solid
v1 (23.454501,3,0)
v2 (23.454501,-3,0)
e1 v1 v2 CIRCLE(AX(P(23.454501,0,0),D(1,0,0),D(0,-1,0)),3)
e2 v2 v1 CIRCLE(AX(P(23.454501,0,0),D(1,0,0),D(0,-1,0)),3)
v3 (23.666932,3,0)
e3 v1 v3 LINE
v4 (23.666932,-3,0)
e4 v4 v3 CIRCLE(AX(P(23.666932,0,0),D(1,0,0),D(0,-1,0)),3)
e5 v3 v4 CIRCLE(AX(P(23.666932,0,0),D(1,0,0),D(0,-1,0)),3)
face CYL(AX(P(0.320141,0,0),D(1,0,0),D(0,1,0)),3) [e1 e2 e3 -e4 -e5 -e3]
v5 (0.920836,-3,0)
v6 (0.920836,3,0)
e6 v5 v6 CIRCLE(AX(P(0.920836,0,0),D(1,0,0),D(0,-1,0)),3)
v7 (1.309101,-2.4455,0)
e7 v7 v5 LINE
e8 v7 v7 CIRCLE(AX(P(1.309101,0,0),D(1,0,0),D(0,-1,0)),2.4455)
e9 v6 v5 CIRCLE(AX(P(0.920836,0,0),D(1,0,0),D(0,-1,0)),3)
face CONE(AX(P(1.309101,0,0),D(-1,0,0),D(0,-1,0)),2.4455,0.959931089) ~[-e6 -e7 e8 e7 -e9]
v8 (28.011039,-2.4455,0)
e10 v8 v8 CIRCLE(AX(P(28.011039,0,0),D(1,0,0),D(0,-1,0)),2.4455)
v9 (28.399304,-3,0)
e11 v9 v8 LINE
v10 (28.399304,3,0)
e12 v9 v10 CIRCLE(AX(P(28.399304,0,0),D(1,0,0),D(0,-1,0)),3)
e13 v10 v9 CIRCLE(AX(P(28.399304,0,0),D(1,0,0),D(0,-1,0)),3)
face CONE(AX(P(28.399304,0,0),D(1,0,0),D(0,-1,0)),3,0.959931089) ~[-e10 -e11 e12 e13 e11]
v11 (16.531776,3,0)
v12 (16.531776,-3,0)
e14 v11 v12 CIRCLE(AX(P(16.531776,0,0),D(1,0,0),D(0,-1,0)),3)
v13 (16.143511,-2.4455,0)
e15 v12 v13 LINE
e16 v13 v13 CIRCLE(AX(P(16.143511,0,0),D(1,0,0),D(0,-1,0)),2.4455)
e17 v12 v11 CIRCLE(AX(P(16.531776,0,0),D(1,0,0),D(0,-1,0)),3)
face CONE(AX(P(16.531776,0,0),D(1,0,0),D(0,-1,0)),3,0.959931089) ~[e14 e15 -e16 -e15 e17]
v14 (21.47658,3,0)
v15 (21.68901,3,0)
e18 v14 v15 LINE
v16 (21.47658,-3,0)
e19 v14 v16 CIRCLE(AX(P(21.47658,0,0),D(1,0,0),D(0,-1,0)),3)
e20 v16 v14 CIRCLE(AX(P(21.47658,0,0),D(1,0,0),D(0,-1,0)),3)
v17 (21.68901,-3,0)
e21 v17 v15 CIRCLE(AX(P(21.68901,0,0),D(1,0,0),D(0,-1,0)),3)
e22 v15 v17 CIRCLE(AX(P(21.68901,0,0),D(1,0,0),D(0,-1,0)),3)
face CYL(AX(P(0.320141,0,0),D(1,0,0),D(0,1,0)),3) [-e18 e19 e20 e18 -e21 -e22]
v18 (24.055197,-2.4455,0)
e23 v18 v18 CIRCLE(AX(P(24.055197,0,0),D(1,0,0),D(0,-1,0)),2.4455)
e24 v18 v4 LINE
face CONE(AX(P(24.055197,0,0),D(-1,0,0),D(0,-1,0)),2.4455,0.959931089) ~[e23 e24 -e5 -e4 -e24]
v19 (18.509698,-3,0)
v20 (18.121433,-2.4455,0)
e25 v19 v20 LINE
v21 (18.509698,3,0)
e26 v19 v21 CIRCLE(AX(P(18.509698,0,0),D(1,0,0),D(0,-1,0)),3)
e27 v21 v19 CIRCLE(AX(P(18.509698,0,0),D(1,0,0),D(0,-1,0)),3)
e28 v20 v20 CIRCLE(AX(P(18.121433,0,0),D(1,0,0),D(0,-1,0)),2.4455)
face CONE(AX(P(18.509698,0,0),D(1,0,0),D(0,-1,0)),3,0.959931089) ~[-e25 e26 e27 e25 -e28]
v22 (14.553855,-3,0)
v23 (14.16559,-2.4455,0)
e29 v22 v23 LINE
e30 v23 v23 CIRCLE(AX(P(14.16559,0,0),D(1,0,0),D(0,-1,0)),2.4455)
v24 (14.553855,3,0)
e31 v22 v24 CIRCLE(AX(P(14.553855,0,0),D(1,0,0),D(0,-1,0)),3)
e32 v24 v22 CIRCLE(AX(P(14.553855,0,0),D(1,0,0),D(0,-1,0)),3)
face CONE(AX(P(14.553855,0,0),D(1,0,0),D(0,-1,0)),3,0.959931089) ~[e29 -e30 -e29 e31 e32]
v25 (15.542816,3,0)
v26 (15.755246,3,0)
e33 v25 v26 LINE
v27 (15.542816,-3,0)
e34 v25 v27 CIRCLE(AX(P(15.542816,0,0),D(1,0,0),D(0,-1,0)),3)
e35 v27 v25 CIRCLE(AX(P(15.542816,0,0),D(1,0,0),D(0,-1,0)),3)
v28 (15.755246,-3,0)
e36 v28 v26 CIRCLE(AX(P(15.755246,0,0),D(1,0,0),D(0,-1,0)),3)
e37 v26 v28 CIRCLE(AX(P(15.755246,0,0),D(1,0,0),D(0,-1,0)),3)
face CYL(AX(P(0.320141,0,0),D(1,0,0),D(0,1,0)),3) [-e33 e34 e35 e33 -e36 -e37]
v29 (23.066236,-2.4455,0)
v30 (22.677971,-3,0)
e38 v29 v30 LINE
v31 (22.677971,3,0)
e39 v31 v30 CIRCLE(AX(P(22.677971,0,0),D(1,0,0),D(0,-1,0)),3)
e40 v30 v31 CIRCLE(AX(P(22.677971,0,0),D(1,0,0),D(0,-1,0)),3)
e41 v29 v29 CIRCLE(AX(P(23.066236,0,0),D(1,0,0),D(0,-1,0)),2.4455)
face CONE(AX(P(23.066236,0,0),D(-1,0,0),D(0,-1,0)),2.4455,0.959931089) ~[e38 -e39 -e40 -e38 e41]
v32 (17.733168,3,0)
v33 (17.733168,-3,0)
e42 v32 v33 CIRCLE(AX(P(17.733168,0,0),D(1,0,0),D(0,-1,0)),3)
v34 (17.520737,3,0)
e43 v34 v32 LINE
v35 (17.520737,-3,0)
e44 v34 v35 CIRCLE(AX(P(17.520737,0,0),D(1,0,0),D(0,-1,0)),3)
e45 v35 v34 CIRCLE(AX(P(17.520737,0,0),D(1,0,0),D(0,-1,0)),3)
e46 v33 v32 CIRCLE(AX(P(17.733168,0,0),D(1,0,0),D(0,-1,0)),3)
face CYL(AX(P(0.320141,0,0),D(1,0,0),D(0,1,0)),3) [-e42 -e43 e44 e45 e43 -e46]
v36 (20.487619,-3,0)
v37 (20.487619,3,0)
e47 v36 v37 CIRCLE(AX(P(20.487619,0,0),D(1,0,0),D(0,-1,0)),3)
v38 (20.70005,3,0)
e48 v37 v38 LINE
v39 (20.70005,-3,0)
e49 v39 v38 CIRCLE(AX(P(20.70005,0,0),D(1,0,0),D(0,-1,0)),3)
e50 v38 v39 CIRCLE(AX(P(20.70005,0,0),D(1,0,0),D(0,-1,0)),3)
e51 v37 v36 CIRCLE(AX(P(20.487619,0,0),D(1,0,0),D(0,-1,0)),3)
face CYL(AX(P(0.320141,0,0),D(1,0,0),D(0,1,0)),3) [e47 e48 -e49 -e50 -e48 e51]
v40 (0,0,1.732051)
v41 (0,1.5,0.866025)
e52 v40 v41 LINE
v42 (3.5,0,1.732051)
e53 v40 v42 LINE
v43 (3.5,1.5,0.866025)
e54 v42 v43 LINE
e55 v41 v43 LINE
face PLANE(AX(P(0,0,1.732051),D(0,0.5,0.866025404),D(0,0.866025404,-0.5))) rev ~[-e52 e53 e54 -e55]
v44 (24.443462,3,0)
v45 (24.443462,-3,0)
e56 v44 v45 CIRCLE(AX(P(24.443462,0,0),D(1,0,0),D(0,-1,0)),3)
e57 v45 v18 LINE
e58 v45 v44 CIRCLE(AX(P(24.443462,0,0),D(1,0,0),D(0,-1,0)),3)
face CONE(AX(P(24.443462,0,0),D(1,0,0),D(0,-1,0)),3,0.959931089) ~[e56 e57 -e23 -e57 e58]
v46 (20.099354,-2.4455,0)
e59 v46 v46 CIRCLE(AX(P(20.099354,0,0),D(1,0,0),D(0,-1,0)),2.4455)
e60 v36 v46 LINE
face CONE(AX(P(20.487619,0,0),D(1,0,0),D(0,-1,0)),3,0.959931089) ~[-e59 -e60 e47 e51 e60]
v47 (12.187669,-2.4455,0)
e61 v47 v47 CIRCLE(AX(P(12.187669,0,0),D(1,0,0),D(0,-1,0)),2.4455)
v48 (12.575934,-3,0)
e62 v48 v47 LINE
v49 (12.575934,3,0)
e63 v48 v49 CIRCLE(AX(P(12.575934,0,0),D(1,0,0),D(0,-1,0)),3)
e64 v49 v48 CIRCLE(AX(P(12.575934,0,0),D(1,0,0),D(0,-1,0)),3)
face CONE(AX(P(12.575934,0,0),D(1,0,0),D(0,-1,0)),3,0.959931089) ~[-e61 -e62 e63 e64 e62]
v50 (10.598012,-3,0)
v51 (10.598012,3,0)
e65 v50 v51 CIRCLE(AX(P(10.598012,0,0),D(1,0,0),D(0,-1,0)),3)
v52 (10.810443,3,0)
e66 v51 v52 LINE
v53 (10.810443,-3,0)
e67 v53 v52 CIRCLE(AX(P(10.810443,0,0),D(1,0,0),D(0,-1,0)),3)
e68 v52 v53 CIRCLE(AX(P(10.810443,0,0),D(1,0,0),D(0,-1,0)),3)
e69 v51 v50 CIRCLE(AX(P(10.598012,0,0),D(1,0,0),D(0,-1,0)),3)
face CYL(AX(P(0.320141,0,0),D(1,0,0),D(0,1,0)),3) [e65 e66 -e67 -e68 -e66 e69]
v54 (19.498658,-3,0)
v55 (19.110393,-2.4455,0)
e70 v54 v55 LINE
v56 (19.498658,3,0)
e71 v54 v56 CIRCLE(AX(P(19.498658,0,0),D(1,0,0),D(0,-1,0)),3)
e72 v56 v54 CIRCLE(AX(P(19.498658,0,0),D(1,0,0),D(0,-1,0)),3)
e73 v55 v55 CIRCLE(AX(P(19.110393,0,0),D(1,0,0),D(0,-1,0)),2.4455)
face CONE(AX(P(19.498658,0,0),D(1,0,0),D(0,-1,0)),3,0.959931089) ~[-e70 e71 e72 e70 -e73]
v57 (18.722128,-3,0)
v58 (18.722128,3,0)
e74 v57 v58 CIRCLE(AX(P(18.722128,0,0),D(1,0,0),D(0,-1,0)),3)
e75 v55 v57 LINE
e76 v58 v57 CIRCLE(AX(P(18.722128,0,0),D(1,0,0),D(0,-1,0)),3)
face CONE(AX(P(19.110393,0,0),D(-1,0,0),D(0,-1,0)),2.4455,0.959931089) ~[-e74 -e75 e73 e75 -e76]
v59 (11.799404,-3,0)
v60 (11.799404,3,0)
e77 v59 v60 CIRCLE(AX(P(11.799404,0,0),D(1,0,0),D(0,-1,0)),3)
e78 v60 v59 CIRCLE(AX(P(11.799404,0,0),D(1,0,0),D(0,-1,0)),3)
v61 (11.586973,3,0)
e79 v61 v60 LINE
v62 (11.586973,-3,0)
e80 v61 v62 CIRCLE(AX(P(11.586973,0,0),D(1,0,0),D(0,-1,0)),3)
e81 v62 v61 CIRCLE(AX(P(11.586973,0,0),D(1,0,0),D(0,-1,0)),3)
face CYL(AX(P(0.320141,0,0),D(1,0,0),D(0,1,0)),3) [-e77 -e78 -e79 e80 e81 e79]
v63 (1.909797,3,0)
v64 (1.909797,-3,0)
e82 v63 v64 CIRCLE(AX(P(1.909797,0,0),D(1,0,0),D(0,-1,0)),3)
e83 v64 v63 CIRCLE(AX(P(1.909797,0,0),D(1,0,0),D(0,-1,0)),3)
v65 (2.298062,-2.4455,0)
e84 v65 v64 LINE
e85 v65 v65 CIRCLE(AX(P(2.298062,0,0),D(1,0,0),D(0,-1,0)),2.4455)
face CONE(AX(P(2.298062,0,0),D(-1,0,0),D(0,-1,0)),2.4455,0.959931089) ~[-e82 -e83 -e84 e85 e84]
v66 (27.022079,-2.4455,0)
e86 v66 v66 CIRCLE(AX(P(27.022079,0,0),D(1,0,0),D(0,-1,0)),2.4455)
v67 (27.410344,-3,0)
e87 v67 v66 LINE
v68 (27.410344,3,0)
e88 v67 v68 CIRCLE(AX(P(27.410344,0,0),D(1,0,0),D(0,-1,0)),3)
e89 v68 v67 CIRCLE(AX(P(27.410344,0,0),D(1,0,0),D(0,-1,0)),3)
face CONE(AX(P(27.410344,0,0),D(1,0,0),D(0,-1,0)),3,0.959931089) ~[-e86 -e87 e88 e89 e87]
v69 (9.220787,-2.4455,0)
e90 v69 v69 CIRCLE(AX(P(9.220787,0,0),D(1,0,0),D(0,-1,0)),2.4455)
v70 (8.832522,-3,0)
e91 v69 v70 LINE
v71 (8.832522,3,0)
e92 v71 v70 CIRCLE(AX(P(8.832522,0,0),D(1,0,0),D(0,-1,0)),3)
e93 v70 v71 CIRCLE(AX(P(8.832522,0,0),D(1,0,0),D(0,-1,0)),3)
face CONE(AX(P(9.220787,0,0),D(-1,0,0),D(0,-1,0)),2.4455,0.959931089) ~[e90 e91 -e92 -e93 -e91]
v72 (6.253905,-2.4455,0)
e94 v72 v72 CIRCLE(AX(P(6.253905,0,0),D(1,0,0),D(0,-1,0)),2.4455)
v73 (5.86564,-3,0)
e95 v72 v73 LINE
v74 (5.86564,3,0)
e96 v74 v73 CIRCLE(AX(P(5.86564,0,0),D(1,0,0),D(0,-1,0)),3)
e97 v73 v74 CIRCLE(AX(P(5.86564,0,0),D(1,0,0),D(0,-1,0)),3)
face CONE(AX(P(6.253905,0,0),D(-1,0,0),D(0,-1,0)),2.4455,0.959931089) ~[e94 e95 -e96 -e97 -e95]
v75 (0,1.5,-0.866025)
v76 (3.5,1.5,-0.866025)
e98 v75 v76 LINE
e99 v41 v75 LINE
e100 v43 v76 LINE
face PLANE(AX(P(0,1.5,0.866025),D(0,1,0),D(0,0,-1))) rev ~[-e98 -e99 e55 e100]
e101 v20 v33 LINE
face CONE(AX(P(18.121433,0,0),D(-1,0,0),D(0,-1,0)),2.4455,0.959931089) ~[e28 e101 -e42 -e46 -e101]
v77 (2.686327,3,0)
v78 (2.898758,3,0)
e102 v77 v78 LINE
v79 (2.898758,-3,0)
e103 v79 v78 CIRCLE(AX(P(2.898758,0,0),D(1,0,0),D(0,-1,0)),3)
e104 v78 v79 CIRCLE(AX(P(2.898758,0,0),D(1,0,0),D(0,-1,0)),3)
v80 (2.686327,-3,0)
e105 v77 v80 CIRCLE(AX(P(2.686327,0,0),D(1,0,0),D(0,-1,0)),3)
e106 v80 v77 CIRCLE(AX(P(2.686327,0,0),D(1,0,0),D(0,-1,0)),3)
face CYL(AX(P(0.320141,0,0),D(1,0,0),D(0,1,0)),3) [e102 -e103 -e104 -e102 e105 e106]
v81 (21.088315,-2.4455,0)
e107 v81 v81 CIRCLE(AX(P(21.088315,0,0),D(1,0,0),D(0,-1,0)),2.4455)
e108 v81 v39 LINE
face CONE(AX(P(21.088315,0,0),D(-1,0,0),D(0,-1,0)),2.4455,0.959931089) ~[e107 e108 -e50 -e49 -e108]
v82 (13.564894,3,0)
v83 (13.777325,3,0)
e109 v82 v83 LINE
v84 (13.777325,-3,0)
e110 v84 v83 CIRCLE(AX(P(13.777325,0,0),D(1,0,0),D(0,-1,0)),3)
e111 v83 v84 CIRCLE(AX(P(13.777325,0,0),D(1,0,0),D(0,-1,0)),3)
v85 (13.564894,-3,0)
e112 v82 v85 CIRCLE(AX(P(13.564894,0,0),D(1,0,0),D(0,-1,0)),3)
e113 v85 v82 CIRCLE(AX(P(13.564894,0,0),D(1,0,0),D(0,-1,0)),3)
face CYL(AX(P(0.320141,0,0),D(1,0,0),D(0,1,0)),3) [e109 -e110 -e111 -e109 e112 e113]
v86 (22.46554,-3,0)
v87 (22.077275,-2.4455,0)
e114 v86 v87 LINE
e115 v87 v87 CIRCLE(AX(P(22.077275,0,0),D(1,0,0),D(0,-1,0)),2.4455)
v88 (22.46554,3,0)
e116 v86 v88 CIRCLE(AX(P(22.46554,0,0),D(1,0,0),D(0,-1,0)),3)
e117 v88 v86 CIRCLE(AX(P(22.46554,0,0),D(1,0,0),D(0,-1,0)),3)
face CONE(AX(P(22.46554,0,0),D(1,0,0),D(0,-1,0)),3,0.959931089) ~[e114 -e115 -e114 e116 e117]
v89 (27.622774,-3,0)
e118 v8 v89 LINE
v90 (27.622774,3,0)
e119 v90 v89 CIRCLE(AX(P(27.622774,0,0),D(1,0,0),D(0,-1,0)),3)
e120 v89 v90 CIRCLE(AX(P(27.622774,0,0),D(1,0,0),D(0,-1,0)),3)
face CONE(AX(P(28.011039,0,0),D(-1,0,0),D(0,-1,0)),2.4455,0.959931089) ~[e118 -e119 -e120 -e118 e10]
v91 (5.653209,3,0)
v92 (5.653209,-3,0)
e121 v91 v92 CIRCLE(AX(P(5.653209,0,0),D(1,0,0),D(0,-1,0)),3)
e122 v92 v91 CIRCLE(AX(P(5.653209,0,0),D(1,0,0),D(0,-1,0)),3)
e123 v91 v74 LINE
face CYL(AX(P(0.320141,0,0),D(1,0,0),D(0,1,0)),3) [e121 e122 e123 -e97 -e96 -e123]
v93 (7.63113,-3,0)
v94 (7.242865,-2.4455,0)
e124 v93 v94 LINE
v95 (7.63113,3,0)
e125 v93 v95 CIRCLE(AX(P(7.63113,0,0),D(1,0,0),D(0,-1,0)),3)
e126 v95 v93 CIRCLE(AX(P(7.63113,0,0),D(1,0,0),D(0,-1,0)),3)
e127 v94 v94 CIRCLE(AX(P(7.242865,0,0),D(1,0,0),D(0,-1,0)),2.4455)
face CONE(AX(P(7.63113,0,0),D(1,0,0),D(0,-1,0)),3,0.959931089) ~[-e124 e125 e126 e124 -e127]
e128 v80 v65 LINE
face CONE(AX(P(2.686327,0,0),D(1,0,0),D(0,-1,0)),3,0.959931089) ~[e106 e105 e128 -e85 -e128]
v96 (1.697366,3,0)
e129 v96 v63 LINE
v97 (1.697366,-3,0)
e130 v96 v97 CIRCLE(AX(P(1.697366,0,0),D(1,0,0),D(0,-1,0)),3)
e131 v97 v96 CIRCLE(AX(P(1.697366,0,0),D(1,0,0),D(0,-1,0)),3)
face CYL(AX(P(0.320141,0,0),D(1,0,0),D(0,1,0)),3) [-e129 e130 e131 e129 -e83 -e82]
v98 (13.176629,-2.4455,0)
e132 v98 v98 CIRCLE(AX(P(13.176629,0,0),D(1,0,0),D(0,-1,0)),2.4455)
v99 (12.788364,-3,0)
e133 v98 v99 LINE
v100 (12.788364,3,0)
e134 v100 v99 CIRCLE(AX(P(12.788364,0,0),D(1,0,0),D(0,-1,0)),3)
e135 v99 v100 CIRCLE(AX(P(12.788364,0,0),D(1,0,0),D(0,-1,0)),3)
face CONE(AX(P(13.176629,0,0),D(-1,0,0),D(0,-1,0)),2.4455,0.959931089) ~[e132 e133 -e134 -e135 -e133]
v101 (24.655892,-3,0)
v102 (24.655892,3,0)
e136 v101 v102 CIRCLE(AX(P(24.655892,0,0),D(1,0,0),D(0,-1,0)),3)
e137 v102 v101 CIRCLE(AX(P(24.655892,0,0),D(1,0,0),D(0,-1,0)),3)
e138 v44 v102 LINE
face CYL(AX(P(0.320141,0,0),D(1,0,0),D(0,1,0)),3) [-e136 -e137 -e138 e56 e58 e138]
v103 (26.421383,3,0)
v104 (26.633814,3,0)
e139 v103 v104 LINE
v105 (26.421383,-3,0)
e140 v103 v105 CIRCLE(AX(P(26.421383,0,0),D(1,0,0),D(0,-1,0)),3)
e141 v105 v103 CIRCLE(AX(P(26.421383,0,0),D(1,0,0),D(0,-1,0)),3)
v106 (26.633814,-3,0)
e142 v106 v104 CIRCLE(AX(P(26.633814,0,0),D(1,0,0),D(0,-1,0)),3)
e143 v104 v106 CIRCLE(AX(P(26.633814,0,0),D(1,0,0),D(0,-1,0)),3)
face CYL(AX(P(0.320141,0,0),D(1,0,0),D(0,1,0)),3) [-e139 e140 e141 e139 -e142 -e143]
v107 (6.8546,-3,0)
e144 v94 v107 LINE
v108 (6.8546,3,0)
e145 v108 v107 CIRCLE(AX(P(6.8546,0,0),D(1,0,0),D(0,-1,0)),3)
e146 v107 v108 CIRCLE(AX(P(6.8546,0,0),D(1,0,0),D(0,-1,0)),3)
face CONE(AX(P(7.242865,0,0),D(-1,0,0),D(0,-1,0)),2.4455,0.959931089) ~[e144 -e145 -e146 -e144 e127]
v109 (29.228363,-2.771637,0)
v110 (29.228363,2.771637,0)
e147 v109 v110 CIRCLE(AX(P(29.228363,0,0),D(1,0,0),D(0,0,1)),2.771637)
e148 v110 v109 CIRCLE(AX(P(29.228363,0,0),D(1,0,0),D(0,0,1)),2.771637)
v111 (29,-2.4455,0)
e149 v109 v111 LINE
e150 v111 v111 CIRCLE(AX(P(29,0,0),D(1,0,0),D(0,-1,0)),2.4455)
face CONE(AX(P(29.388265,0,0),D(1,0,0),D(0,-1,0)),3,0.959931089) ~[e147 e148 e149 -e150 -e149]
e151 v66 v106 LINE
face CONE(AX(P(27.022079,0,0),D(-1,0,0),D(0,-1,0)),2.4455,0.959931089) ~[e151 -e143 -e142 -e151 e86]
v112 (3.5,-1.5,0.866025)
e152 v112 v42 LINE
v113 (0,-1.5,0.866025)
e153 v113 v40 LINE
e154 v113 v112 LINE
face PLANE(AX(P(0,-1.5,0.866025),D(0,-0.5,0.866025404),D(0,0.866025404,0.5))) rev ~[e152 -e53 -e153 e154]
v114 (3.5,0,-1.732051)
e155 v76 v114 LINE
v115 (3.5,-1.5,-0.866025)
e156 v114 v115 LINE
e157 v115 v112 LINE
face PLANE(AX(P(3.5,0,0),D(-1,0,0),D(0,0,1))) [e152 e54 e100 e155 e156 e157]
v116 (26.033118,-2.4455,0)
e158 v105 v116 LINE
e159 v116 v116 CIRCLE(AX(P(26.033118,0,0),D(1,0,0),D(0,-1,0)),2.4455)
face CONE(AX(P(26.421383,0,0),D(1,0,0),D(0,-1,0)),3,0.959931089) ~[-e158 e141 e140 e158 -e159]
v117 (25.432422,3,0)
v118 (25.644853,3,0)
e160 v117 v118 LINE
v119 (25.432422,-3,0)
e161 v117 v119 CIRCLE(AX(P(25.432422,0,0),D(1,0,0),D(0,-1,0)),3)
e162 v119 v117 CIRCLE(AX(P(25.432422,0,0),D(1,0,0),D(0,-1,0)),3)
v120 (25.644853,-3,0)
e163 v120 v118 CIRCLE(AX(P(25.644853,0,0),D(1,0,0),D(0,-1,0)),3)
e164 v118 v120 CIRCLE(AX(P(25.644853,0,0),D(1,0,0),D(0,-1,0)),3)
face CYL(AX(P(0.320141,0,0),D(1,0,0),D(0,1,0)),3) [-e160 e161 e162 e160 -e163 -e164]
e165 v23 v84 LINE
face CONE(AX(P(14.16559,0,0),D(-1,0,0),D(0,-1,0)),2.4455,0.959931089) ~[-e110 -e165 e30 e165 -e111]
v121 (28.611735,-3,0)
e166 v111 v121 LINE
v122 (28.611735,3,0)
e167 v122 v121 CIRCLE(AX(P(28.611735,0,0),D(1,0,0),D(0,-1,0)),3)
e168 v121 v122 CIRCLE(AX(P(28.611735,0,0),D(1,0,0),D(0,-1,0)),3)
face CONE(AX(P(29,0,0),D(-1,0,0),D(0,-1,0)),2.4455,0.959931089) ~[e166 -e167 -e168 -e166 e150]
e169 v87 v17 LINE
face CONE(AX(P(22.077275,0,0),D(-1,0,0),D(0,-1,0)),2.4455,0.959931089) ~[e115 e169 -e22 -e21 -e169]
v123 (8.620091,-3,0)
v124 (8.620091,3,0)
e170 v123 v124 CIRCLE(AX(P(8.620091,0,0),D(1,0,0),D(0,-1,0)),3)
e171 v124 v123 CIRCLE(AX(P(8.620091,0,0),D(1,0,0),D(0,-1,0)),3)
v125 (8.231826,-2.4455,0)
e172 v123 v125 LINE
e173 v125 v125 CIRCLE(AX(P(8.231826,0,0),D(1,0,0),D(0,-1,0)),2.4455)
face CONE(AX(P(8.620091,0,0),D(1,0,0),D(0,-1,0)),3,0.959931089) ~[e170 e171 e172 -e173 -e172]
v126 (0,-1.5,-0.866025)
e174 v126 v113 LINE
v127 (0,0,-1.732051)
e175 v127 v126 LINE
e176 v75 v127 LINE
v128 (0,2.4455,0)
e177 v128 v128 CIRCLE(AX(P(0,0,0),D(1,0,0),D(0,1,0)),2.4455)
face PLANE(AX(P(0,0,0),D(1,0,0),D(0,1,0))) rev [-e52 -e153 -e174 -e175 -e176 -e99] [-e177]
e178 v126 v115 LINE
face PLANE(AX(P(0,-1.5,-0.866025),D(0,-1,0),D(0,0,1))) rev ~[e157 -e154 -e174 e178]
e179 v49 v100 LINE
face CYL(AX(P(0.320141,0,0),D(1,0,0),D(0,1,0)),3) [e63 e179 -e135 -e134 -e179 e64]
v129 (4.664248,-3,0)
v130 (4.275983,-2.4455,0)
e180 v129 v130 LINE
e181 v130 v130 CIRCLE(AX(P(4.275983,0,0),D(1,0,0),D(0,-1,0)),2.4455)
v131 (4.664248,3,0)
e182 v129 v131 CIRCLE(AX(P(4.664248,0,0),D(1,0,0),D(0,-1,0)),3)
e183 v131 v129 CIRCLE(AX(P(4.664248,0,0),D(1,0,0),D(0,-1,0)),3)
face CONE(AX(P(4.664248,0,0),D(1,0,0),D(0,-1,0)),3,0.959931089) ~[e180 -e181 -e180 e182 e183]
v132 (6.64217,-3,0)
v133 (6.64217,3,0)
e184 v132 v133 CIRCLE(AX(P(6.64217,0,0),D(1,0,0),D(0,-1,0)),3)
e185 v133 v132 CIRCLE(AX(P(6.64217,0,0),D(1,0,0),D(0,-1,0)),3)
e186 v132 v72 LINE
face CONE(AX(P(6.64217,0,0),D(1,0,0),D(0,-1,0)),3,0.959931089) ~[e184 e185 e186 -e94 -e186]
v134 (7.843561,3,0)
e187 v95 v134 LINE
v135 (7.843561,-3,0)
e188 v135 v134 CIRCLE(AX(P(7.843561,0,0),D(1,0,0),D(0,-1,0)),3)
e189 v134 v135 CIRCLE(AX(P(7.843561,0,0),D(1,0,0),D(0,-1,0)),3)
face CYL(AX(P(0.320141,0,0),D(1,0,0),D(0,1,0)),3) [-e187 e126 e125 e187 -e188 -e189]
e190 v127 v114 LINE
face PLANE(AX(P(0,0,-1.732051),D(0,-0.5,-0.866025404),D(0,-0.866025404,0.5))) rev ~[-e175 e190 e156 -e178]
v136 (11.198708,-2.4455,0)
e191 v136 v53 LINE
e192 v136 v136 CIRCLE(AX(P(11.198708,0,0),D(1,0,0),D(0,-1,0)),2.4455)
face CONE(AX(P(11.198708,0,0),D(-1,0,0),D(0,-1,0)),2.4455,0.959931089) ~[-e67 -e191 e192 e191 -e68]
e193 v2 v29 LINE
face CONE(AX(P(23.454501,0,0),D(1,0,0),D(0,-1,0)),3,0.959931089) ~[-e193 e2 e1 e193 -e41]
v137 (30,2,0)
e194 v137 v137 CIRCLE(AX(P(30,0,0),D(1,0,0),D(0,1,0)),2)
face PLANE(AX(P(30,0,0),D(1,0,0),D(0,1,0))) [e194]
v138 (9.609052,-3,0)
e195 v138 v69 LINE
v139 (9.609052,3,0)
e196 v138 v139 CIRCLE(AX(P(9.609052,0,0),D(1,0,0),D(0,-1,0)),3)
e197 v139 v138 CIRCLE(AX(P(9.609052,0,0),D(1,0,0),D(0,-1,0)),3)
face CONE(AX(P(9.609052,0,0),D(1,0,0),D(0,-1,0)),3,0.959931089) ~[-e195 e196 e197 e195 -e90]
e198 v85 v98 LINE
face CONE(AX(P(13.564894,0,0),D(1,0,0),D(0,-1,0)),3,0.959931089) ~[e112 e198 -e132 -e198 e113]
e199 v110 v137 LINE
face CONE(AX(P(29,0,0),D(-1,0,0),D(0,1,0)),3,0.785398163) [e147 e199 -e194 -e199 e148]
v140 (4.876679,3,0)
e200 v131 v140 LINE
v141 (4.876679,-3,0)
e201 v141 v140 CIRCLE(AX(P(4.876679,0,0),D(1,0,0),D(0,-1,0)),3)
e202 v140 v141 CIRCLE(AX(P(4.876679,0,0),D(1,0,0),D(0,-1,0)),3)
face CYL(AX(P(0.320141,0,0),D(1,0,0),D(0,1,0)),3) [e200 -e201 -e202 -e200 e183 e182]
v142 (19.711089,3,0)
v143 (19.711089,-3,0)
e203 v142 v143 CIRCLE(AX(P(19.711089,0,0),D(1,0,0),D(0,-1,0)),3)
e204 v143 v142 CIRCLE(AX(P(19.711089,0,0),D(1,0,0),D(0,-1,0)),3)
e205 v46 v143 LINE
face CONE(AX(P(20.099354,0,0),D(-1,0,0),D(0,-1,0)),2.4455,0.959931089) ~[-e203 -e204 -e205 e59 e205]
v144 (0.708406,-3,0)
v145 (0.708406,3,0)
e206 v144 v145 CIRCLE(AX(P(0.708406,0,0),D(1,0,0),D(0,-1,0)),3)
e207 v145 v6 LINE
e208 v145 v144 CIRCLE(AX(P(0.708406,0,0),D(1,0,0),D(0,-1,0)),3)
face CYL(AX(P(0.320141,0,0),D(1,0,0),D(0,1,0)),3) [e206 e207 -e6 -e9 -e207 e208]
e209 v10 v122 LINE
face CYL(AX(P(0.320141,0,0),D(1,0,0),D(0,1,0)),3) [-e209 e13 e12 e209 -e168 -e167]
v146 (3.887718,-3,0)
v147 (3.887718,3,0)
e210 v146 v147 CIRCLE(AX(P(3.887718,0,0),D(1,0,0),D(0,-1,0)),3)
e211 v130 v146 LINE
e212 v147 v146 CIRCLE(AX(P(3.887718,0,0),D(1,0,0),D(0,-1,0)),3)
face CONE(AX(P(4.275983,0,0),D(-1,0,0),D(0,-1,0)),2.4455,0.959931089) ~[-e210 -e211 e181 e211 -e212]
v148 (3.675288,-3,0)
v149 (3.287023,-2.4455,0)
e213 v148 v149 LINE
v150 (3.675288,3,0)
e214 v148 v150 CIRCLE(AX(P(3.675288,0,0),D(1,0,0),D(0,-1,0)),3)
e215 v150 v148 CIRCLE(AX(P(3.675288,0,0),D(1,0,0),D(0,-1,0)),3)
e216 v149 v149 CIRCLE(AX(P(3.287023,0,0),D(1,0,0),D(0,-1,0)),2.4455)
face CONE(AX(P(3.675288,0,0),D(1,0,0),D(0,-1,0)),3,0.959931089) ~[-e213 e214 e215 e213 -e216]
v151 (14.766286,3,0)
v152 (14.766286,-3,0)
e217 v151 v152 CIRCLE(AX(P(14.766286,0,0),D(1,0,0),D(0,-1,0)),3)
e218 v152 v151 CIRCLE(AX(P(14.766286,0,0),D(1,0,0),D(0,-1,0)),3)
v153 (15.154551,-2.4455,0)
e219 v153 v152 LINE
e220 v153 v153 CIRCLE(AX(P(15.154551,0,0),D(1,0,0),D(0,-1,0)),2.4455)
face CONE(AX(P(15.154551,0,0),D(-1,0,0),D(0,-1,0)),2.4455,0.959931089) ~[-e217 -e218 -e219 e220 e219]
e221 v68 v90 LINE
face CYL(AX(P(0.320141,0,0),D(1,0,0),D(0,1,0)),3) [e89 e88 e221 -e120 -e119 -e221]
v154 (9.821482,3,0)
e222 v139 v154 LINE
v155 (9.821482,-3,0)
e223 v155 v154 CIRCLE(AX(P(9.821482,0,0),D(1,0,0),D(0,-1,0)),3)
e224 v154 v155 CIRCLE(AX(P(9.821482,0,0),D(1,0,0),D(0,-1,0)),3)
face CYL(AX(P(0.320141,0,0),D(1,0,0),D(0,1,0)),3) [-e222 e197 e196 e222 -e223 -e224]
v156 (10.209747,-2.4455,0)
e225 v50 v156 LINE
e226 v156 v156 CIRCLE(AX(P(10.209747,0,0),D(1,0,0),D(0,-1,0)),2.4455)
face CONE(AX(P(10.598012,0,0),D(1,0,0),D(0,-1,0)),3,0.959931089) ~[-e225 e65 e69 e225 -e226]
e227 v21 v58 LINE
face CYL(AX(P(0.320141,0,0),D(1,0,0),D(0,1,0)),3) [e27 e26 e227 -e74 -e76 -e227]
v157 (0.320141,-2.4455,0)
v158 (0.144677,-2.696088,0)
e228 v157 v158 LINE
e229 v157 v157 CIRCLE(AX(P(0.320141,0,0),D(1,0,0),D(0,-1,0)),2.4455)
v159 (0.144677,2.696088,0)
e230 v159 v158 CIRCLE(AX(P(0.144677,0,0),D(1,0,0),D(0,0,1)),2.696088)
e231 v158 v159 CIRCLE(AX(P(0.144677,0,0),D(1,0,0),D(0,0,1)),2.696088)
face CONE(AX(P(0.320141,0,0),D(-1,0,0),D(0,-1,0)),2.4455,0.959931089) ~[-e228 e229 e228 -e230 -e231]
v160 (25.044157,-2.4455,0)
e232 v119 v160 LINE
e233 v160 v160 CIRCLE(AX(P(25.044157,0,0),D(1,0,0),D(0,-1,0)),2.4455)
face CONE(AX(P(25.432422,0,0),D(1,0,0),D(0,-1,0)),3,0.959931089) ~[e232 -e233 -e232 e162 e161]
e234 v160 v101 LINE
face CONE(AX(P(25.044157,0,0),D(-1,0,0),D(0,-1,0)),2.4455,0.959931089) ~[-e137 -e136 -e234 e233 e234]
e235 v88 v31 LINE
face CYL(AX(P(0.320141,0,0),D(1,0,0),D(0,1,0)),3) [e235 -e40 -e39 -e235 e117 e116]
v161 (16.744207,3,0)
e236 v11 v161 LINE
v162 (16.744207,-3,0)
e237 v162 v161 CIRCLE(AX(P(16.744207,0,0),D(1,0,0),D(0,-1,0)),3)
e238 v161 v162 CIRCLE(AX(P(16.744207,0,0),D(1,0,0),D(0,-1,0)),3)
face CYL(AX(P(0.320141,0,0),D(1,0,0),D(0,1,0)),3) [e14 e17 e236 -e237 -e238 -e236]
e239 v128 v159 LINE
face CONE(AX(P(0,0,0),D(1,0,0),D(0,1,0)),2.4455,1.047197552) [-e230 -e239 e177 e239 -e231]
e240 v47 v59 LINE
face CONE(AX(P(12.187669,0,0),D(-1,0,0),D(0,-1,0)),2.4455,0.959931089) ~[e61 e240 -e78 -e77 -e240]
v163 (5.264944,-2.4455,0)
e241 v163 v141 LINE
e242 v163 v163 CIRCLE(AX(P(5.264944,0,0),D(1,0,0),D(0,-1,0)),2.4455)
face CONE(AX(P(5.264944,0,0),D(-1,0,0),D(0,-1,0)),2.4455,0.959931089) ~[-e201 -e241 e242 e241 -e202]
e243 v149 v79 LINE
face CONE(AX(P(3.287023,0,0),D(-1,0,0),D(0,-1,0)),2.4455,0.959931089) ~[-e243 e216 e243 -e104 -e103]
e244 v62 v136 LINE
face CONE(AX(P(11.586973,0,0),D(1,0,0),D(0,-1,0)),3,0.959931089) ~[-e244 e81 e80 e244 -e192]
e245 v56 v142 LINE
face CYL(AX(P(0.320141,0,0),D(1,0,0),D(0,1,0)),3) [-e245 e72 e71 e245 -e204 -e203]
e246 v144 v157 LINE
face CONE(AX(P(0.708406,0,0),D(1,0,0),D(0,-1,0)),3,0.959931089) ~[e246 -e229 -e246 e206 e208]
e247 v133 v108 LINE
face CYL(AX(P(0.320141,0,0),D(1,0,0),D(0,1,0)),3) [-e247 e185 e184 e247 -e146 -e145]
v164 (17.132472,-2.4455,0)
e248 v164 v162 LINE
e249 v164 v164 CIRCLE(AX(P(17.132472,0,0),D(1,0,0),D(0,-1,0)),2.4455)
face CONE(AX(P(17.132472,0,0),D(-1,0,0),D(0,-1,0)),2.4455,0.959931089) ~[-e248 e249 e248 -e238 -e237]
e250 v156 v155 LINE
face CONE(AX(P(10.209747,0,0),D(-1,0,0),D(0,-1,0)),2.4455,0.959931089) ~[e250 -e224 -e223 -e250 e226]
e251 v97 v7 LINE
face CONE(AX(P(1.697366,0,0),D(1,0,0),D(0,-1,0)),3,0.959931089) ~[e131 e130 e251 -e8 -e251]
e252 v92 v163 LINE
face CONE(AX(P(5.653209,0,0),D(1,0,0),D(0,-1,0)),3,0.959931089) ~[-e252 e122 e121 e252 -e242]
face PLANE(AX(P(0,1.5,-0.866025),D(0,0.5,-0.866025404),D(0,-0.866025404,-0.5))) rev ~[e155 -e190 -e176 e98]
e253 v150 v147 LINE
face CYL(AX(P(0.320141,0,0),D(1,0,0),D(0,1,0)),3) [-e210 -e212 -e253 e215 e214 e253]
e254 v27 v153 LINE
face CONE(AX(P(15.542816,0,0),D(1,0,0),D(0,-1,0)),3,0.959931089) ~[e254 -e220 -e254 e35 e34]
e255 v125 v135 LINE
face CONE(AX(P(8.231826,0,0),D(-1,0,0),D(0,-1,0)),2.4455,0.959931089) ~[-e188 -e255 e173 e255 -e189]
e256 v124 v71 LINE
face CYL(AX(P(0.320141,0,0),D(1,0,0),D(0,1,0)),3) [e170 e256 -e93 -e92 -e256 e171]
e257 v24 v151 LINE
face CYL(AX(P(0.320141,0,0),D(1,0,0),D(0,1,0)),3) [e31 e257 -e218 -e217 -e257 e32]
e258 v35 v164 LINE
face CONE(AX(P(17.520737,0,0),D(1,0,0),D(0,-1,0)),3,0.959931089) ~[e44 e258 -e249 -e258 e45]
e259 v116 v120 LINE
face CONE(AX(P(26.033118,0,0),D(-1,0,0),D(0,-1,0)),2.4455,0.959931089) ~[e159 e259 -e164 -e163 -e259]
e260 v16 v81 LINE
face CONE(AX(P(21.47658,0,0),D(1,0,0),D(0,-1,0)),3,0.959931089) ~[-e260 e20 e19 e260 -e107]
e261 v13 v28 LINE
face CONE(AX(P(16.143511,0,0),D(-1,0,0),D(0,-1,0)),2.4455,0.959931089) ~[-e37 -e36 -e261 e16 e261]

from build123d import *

# Parameters (mm, degrees)
HEX_2_DEPTH     = 3.5
THDSCHPAT_COUNT = 30
THDSCHPAT_PITCH = 0.988960665


with BuildPart() as part:
    # BodySke → BaseBody (revolve)
    with BuildSketch(Plane.XY):
        Polygon((0, 0), (0, 2.4455), (0.320140724, 3), (29, 3), (30, 2), (30, 0), align=None)
    revolve(axis=Axis((-12.7, 0, 0), (1, 0, 0)))

    # Sketch2 → Hex 2 (cut)
    with BuildSketch(Plane.ZY):
        Polygon((0.866025404, 1.5), (-0.866025404, 1.5), (-1.732050808, 0), (-0.866025404, -1.5), (0.866025404, -1.5), (1.732050808, 0), align=None)
    extrude(amount=-HEX_2_DEPTH, mode=Mode.SUBTRACT)

    # ThdSchSke → ThreadSchematic (revolve, cut)
    with BuildSketch(Plane.XY):
        Polygon((0.320140724, -2.4455), (-0.068124356, -3), (-0.068124356, -3.75), (0.708405804, -3.75), (0.708405804, -3), align=None)
    threadschematic = revolve(axis=Axis((-3.175, 0, 0), (1, 0, 0)), mode=Mode.SUBTRACT)

    # ThdSchPat: ThreadSchematic ×30
    with Locations(*[(i * THDSCHPAT_PITCH, 0, 0) for i in range(1, THDSCHPAT_COUNT)]):
        add(threadschematic, mode=Mode.SUBTRACT)


solid = part.part
